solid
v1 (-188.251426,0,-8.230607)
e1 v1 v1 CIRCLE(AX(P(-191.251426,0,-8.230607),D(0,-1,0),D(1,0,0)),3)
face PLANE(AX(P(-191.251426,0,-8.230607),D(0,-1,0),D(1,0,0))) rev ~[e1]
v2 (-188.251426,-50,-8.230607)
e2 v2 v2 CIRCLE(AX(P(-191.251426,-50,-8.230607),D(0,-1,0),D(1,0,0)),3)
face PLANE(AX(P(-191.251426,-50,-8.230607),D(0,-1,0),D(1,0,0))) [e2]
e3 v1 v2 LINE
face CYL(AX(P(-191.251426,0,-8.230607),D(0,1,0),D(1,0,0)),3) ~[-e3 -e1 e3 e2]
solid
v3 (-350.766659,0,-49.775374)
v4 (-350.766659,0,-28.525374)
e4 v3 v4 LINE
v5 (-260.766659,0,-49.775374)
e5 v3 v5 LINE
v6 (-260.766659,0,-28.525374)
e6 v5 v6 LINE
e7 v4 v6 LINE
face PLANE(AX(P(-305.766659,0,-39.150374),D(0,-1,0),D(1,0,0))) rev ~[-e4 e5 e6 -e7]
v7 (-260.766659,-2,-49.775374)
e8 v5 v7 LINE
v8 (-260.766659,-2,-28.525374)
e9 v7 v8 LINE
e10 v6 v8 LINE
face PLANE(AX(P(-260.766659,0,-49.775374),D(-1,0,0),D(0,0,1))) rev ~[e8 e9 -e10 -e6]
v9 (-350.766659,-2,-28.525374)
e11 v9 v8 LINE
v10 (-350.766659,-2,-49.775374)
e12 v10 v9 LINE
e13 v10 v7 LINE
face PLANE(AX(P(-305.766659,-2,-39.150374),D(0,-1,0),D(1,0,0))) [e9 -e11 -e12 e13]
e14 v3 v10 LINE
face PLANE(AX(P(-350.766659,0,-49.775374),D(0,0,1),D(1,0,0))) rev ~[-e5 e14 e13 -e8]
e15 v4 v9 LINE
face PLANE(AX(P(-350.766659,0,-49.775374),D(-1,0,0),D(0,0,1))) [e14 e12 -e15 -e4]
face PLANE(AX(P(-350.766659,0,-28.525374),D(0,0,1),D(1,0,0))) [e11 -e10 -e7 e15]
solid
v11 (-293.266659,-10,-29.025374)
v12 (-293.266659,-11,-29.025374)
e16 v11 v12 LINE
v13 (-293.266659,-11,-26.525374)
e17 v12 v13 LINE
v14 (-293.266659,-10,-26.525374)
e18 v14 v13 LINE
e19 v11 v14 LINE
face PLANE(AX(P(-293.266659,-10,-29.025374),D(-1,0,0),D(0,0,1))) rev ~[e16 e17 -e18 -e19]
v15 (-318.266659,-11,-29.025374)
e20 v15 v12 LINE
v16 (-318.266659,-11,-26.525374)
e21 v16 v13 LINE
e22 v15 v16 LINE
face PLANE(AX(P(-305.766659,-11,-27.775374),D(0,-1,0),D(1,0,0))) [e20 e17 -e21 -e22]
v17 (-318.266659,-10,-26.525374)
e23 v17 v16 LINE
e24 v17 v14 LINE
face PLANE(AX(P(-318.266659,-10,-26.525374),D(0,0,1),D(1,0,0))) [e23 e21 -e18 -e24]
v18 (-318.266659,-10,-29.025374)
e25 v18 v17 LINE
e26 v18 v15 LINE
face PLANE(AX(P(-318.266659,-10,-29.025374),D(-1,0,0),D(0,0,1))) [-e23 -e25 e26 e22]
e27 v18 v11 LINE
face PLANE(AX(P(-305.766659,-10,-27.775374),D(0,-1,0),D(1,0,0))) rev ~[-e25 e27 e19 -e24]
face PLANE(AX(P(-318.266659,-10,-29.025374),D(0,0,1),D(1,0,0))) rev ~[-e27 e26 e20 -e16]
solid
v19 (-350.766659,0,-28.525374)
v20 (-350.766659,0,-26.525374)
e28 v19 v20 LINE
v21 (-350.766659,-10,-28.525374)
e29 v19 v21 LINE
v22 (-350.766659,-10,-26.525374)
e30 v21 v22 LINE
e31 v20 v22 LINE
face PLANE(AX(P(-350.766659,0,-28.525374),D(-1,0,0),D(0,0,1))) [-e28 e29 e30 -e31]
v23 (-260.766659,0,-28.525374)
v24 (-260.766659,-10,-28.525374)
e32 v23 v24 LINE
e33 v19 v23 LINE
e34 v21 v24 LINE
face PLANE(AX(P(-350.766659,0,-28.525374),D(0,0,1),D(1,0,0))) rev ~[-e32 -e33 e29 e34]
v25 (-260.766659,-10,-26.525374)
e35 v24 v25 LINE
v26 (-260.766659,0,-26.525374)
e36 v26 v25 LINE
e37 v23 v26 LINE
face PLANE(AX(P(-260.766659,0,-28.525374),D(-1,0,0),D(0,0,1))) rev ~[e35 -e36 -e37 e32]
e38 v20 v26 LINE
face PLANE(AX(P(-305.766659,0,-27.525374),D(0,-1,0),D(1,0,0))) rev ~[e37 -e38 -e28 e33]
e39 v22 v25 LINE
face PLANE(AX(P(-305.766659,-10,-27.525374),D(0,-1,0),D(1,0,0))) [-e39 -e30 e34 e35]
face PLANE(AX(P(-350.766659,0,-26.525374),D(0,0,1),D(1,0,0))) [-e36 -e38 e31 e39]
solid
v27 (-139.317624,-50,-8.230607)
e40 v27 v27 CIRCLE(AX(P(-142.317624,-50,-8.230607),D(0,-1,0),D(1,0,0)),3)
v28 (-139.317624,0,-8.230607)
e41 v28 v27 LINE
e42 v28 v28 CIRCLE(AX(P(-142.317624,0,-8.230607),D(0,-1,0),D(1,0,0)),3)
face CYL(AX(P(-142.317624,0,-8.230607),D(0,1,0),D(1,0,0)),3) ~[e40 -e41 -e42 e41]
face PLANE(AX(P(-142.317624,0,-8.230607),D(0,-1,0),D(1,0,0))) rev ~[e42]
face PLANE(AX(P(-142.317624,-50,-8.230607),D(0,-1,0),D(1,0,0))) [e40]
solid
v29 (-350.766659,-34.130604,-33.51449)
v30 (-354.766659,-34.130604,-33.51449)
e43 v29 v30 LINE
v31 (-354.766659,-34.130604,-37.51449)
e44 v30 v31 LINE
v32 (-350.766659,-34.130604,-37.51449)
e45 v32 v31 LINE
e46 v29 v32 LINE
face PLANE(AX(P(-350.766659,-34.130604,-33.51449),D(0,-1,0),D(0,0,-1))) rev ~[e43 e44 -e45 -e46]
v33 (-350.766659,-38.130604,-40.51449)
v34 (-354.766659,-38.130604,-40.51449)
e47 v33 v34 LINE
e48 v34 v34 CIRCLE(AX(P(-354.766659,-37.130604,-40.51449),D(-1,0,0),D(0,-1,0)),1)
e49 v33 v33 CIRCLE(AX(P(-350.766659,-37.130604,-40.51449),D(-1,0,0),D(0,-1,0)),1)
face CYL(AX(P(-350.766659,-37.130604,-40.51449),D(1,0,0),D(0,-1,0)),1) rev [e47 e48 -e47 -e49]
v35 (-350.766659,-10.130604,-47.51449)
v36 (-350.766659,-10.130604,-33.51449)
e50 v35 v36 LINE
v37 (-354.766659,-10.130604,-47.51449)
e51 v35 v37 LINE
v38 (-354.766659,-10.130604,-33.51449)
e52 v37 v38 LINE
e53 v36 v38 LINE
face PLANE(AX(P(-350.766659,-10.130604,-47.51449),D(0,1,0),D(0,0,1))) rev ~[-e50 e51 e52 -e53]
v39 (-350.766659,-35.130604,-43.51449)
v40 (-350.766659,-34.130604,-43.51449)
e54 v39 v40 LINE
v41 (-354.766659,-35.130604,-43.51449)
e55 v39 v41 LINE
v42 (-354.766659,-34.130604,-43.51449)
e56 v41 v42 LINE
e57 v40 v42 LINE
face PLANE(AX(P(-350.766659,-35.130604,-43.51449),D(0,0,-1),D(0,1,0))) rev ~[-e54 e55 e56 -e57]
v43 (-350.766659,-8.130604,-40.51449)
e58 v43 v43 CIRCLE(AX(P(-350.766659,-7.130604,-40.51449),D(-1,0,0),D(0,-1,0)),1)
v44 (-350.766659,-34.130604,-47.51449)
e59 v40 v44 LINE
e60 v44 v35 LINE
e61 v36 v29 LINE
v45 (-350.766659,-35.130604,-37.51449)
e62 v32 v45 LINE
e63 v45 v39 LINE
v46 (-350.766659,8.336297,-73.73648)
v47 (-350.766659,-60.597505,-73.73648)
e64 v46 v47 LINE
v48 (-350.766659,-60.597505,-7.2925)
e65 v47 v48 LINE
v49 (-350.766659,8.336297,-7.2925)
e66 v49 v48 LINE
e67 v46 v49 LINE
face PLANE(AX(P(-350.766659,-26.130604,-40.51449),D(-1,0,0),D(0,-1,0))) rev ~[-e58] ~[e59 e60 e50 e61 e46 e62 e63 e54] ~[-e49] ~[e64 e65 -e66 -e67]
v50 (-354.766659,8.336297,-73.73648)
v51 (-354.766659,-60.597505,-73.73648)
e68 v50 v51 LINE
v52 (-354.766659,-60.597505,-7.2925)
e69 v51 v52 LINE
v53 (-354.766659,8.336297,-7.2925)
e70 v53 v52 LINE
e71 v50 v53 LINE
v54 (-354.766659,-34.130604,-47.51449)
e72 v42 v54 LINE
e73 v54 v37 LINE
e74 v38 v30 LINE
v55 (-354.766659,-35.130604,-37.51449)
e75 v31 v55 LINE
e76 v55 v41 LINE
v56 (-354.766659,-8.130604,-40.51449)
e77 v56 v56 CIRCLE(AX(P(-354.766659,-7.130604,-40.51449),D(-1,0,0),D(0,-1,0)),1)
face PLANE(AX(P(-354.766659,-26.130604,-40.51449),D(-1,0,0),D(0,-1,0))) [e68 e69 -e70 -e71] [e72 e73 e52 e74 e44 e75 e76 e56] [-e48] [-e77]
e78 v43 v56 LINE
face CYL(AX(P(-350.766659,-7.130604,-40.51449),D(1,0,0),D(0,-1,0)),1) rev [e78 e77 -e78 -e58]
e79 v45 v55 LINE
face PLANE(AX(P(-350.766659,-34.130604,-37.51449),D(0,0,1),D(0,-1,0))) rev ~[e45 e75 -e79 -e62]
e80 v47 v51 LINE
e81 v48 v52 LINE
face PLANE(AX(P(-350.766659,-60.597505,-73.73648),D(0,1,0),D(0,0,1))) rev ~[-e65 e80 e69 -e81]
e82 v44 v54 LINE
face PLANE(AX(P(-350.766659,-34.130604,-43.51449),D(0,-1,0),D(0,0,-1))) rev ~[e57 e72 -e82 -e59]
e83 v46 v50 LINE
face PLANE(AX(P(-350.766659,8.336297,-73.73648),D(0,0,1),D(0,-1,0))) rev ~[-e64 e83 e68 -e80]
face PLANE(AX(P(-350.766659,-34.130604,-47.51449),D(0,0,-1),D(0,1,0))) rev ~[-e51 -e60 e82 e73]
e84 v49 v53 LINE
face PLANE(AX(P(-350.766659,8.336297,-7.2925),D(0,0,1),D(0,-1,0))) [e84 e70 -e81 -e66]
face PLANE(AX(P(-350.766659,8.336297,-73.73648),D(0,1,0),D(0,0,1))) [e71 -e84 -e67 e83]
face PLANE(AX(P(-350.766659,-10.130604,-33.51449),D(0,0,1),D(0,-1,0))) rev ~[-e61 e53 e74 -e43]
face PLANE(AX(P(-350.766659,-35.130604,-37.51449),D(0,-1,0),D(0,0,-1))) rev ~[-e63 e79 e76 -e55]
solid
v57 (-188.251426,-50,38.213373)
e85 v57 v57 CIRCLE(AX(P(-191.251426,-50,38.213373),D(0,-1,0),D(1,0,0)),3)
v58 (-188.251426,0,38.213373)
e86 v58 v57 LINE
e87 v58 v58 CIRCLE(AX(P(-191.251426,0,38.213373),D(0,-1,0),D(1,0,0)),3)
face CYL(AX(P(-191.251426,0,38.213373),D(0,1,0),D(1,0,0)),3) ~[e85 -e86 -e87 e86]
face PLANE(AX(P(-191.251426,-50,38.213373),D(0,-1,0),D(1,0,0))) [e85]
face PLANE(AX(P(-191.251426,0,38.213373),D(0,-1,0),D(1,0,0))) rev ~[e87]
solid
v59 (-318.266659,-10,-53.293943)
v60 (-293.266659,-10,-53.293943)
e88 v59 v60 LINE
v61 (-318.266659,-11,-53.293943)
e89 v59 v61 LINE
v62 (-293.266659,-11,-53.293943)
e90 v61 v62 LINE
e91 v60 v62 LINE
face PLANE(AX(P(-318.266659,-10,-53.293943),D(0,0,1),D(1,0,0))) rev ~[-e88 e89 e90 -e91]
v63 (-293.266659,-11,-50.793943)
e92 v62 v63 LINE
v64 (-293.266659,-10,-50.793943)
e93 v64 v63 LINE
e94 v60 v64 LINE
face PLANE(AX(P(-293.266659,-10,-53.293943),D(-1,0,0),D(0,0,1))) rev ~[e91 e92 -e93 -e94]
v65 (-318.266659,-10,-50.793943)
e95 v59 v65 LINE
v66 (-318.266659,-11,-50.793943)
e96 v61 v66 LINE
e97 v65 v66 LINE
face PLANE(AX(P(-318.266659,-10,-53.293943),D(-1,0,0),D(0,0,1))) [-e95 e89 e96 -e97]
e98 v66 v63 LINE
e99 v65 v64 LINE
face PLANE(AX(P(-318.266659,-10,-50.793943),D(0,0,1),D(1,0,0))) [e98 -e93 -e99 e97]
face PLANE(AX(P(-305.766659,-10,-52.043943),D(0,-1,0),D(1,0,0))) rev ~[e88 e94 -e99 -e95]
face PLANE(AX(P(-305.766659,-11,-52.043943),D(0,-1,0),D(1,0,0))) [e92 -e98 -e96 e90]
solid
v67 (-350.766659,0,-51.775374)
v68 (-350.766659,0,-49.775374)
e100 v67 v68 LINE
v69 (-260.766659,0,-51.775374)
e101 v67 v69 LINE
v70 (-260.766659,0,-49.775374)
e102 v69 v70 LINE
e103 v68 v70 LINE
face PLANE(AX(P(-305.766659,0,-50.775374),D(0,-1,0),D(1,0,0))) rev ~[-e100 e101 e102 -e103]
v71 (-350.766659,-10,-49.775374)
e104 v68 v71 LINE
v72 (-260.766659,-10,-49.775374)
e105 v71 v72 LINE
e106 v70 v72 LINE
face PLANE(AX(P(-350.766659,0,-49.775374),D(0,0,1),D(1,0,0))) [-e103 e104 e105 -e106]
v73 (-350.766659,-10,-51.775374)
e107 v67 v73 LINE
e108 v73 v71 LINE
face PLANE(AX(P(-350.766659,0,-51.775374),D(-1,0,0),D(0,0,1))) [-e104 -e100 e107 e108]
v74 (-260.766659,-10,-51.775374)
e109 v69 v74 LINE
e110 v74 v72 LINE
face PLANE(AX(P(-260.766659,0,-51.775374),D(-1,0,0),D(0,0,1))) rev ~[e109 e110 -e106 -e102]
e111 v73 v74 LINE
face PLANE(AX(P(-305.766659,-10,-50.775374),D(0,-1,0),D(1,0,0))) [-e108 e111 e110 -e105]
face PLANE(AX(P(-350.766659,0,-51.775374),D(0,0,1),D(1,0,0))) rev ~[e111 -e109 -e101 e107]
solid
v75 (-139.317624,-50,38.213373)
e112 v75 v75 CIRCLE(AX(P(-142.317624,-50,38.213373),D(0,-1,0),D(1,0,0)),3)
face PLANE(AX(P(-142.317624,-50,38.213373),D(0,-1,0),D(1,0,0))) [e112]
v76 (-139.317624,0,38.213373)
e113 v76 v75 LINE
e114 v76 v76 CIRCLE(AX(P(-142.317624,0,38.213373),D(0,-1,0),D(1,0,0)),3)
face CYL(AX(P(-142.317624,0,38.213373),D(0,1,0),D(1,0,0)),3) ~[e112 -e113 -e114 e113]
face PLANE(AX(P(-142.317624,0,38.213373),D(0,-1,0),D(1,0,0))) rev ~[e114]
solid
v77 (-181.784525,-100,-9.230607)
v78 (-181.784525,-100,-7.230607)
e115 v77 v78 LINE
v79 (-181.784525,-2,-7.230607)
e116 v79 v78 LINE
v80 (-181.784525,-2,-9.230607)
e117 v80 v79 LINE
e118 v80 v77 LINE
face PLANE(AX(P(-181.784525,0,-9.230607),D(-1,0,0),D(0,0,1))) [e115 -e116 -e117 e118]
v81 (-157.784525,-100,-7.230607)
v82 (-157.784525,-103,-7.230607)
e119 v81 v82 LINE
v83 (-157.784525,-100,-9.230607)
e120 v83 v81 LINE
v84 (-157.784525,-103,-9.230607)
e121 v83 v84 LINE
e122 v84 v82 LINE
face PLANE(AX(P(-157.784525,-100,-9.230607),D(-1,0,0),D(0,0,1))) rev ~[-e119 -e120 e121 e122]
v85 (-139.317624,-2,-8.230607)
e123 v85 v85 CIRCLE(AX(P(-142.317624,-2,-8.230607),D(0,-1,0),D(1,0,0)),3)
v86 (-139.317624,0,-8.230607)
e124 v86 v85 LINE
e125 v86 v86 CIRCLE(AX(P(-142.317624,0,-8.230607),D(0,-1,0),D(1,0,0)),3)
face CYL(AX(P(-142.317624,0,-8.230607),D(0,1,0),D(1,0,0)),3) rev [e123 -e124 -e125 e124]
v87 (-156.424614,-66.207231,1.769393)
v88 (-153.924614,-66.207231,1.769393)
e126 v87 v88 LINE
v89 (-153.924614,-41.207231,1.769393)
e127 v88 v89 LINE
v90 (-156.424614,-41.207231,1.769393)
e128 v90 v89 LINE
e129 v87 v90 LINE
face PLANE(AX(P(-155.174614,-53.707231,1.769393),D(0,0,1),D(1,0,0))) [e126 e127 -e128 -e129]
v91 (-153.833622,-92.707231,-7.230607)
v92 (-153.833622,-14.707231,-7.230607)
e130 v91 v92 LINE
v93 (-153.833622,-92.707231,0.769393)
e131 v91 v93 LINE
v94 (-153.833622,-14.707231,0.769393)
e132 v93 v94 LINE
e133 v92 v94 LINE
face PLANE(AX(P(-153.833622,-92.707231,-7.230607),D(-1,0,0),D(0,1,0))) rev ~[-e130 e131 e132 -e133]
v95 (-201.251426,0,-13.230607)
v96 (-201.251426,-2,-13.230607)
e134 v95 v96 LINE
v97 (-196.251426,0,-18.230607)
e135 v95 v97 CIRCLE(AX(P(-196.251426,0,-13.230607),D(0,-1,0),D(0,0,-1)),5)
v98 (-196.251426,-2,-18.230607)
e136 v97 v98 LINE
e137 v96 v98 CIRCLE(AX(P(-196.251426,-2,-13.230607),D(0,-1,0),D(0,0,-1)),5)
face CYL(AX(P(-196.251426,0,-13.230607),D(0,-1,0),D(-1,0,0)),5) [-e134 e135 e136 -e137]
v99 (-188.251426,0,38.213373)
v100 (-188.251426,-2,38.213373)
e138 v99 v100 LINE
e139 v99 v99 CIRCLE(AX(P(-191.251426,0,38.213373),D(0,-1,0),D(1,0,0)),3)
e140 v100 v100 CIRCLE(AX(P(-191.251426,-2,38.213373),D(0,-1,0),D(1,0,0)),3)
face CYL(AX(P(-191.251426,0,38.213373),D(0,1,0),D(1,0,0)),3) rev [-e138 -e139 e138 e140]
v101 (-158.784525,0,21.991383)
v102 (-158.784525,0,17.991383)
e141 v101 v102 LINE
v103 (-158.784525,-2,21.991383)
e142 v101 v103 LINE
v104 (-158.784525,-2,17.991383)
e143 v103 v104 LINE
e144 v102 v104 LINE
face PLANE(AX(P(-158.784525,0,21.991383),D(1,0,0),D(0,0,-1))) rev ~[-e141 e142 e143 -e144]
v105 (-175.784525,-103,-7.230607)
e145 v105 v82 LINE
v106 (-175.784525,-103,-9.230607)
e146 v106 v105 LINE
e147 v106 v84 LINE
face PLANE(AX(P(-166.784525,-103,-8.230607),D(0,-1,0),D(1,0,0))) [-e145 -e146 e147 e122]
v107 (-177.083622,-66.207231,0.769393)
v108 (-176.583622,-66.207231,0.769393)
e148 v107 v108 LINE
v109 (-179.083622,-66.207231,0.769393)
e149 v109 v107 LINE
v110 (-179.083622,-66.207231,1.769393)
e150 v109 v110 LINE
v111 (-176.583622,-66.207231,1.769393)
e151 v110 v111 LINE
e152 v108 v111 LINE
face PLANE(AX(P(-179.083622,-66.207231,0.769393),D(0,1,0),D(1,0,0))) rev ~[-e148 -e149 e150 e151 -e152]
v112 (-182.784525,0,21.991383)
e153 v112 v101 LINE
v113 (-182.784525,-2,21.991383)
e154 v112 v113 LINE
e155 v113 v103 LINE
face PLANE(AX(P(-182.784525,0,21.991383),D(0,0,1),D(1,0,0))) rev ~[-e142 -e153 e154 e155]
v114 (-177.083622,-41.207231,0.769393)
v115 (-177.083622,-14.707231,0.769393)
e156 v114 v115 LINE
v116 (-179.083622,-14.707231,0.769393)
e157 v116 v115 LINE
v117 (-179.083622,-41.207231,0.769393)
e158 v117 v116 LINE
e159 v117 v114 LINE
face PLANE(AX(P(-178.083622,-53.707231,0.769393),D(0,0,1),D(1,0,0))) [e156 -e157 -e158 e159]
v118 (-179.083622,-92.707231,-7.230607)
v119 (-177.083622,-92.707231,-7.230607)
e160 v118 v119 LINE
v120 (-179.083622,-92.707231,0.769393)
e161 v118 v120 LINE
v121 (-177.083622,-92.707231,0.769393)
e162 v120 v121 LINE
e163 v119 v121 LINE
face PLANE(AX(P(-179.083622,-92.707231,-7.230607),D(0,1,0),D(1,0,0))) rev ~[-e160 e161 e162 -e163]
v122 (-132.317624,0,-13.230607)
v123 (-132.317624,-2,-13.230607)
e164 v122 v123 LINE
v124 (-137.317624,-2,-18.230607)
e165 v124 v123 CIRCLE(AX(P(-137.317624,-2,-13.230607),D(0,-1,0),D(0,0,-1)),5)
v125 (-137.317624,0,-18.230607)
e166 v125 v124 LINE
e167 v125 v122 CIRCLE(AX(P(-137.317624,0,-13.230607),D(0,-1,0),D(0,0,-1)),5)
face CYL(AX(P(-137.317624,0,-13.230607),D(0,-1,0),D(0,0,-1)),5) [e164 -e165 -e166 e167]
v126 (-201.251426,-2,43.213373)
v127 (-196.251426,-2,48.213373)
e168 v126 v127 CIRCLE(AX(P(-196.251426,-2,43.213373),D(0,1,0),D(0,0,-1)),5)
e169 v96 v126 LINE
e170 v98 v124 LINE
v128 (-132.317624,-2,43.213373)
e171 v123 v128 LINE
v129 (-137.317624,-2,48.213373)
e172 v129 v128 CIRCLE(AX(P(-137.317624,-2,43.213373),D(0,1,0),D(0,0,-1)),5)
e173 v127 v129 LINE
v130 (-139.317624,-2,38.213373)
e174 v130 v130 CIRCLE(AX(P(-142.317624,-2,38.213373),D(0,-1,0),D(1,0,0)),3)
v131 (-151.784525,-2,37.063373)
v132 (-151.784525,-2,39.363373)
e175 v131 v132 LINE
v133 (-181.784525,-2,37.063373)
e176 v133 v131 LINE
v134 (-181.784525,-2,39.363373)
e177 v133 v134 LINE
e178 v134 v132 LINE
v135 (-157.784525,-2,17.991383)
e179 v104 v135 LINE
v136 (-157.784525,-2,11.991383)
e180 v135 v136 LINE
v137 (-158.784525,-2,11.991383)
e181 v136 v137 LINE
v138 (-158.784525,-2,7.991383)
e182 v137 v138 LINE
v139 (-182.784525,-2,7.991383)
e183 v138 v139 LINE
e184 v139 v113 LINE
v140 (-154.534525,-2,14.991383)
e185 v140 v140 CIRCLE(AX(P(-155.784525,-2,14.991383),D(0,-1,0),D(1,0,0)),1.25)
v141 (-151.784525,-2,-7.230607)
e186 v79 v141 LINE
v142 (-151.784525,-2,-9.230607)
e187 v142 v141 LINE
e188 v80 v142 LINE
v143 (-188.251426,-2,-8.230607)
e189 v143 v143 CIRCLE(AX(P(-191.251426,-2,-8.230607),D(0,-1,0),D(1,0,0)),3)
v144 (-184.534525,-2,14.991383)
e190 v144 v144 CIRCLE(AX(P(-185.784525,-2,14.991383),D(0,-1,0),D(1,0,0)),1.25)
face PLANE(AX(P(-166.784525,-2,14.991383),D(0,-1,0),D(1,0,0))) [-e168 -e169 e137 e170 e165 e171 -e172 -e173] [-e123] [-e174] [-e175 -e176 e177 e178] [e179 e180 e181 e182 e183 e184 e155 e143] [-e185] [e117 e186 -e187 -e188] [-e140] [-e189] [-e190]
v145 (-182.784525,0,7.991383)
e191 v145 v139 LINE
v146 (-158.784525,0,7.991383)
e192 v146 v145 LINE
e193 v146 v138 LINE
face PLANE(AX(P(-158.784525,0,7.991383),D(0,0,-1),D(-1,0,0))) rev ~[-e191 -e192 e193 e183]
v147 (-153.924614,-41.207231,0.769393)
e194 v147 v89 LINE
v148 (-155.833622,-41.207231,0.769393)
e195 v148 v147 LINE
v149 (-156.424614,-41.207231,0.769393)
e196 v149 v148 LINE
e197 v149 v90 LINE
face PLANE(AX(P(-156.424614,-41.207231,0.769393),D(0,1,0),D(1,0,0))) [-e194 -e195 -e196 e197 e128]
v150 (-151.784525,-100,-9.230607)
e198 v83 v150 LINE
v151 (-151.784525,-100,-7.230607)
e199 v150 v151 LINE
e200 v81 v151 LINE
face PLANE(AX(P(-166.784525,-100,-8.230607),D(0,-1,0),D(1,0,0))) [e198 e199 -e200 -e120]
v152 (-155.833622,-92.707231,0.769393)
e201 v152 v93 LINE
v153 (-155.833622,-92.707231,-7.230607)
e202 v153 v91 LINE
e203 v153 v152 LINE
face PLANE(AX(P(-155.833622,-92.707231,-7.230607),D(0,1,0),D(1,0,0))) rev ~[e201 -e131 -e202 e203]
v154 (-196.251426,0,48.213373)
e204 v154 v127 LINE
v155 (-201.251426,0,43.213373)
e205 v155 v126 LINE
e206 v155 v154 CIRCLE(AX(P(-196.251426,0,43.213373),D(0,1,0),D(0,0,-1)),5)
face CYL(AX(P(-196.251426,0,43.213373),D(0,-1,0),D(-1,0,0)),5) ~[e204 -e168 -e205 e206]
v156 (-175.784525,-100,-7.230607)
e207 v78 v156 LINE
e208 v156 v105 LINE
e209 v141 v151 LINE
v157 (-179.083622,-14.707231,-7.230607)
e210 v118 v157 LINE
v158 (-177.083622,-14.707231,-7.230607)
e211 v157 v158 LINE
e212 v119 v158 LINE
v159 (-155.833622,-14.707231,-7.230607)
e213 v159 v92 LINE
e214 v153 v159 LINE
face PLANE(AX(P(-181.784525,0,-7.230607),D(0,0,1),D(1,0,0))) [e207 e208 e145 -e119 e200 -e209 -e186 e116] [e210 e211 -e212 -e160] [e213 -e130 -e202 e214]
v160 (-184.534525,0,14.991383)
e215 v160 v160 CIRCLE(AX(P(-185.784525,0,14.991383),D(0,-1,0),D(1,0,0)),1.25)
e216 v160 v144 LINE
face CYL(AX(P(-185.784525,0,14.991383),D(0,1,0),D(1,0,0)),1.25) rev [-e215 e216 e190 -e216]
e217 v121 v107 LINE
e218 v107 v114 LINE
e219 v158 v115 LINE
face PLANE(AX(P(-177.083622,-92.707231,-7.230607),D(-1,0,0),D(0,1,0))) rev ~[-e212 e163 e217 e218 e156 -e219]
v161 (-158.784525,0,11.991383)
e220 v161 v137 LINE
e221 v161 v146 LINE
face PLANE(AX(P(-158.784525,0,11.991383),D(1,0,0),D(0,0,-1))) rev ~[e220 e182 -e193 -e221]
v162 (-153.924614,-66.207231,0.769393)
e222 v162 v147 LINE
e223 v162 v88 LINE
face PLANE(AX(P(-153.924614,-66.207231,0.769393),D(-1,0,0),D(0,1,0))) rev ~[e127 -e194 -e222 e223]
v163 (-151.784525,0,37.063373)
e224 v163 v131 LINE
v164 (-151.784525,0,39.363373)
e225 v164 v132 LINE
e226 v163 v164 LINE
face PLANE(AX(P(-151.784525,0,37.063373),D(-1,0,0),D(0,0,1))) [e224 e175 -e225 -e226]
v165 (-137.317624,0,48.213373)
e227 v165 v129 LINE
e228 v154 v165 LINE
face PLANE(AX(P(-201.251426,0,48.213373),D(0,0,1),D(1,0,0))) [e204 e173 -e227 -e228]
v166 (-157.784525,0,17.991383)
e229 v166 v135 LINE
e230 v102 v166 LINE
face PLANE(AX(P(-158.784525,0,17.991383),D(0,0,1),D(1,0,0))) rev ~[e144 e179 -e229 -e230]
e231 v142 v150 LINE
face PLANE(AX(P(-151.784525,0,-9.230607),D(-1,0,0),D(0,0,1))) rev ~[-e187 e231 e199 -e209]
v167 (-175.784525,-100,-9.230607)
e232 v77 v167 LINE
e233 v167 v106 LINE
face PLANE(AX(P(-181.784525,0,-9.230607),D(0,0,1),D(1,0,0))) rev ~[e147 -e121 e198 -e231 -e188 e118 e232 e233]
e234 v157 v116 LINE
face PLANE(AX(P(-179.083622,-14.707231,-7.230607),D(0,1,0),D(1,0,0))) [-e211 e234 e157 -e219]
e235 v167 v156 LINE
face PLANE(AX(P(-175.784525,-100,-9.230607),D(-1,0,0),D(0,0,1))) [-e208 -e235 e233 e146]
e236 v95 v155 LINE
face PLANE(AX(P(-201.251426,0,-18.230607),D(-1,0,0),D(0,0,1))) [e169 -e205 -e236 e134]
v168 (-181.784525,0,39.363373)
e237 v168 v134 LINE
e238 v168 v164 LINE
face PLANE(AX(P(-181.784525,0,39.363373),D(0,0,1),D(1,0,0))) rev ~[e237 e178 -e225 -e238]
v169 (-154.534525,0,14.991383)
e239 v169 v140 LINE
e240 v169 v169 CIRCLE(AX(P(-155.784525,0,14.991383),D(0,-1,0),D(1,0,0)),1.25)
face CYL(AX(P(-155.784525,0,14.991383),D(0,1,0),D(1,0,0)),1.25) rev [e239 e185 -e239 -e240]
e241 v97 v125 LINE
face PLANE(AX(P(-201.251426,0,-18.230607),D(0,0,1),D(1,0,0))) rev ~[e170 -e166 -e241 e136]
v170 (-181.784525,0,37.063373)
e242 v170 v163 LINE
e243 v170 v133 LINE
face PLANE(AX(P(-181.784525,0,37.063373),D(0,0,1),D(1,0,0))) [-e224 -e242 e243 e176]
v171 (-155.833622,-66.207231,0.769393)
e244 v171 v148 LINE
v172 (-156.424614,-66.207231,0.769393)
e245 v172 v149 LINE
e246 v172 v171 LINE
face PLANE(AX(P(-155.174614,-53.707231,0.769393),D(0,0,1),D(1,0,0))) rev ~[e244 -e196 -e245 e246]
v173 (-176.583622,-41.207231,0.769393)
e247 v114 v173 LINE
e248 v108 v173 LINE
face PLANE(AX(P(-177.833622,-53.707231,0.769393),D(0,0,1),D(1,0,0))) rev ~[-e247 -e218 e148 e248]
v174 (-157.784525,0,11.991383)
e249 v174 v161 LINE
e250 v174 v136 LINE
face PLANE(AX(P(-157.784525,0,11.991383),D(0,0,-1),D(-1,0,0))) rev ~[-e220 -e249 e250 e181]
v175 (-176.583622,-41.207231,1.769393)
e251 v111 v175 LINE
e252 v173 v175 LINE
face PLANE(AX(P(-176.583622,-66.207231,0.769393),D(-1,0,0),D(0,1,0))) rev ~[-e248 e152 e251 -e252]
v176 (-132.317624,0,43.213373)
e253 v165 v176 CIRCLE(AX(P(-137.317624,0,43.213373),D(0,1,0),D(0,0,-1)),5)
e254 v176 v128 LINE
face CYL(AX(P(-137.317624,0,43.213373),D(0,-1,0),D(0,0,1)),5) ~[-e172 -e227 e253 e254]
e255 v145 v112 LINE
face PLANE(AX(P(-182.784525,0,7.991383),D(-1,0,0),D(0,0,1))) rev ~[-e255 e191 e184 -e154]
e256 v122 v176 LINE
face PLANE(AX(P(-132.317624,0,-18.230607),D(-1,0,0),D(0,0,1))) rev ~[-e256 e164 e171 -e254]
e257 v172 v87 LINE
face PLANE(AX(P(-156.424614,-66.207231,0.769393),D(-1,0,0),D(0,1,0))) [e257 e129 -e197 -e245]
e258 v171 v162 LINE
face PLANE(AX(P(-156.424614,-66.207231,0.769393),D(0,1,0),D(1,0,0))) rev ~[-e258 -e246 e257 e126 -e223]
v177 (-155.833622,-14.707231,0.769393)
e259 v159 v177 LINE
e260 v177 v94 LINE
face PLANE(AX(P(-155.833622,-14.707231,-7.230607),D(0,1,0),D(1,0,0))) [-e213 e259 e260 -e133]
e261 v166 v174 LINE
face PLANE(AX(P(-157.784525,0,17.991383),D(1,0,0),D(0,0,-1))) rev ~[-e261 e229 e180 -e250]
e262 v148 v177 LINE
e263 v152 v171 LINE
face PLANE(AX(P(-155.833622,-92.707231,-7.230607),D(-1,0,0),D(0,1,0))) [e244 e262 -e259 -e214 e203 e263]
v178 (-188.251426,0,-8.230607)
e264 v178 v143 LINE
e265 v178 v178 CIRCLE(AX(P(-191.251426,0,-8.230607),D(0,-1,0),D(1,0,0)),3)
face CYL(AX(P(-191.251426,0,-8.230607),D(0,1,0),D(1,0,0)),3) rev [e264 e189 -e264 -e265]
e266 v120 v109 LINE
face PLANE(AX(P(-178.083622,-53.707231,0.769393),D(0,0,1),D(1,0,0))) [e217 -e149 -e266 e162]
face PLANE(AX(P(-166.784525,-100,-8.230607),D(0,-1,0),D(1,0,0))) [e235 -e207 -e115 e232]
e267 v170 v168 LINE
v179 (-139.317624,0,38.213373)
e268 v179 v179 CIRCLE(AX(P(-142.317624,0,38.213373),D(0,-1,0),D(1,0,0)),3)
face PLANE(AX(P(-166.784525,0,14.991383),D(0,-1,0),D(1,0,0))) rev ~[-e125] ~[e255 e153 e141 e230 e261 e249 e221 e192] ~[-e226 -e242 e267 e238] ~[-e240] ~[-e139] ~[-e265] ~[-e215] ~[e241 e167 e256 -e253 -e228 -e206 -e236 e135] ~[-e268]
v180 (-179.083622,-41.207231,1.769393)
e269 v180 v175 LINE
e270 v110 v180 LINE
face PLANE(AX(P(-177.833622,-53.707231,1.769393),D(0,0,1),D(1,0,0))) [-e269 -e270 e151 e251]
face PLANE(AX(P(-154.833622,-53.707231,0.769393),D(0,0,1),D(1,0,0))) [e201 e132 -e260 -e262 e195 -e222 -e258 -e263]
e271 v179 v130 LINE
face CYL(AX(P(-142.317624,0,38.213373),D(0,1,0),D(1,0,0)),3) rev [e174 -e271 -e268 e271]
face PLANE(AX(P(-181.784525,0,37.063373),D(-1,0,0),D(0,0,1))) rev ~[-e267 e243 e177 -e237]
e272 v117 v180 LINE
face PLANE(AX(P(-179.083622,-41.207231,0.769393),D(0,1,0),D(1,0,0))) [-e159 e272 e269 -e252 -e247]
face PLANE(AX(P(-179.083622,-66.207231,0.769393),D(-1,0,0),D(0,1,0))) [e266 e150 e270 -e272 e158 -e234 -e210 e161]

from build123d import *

# Parameters (mm, degrees)
F0_R      = 3
F1_DEPTH  = 50
F0_W      = 68.9338020737
F0_H      = 66.44398
F0_W_2    = 30
F0_H_2    = 2
F0_R_2    = 1.25
F0_H_3    = 2.3
F2_DEPTH  = 2
F0_W_3    = 90
F3_DEPTH  = 10
F0_H_4    = 21.25
F4_DEPTH  = 2
F5_W      = 25
F5_H      = 2.5
F6_DEPTH  = 1
F7_R      = 5
F8_W      = 68.9338020737
F8_H      = 66.44398
F8_R      = 1
F8_W_2    = 2
F8_H_2    = 21.25
F9_DEPTH  = 4
F10_DEPTH = 100
F11_W     = 2
F11_H     = 78
F12_DEPTH = 8
F13_W     = 2.5
F13_H     = 25
F14_DEPTH = 1
F15_W     = 18
F15_H     = 2
F16_DEPTH = 3


with BuildPart() as f1:
    # F0 (on Front) → F1 (new body)
    with BuildSketch(Plane.XZ):
        with Locations((-191.2514259544, 38.213372719)):
            Circle(F0_R)
    extrude(amount=F1_DEPTH)


with BuildPart() as f1b:
    # F0 (on Front) → F1, piece 2 (new body)
    with BuildSketch(Plane.XZ):
        with Locations((-142.3176238808, 38.213372719)):
            Circle(F0_R)
    extrude(amount=F1_DEPTH)


with BuildPart() as f1c:
    # F0 (on Front) → F1, piece 3 (new body)
    with BuildSketch(Plane.XZ):
        with Locations((-142.3176238808, -8.230607281)):
            Circle(F0_R)
    extrude(amount=F1_DEPTH)


with BuildPart() as f1d:
    # F0 (on Front) → F1, piece 4 (new body)
    with BuildSketch(Plane.XZ):
        with Locations((-191.2514259544, -8.230607281)):
            Circle(F0_R)
    extrude(amount=F1_DEPTH)


with BuildPart() as f2:
    # F0 (on Front) → F2 (new body)
    with BuildSketch(Plane.XZ):
        with Locations((-166.7845249176, 14.991382719)):
            Rectangle(F0_W, F0_H)
        with Locations((-191.2514259544, -8.230607281)):
            Circle(F0_R, mode=Mode.SUBTRACT)
        with Locations((-166.7845249176, -8.230607281)):
            Rectangle(F0_W_2, F0_H_2, mode=Mode.SUBTRACT)
        with Locations((-142.3176238808, -8.230607281)):
            Circle(F0_R, mode=Mode.SUBTRACT)
        with Locations((-185.7845249176, 14.991382719)):
            Circle(F0_R_2, mode=Mode.SUBTRACT)
        Polygon((-182.7845249176, 21.991382719), (-158.7845249176, 21.991382719), (-158.7845249176, 17.991382719), (-157.7845249176, 17.991382719), (-157.7845249176, 11.991382719), (-158.7845249176, 11.991382719), (-158.7845249176, 7.991382719), (-182.7845249176, 7.991382719), align=None, mode=Mode.SUBTRACT)
        with Locations((-155.7845249176, 14.991382719)):
            Circle(F0_R_2, mode=Mode.SUBTRACT)
        with Locations((-191.2514259544, 38.213372719)):
            Circle(F0_R, mode=Mode.SUBTRACT)
        with Locations((-166.7845249176, 38.213372719)):
            Rectangle(F0_W_2, F0_H_3, mode=Mode.SUBTRACT)
        with Locations((-142.3176238808, 38.213372719)):
            Circle(F0_R, mode=Mode.SUBTRACT)
    extrude(amount=F2_DEPTH)

    # F7
    f7_edges = [f2.edges().sort_by_distance(p)[0] for p in [
        (-201.251426, -1, 48.213373),
        (-132.317624, -1, 48.213373),
        (-132.317624, -1, -18.230607),
        (-201.251426, -1, -18.230607),
    ]]
    fillet(f7_edges, radius=F7_R)

    # F0 (on Front) → F10 (join)
    with BuildSketch(Plane.XZ):
        with Locations((-166.7845249176, -8.230607281)):
            Rectangle(F0_W_2, F0_H_2)
    extrude(amount=F10_DEPTH)

    # F11 (on face) → F12 (join)
    with BuildSketch(Plane.XY.offset(-7.230607281)):
        with Locations((-178.0836216211, -53.7072308362)):
            Rectangle(F11_W, F11_H)
        with Locations((-154.8336216211, -53.7072308362)):
            Rectangle(F11_W, F11_H)
    extrude(amount=F12_DEPTH)

    # F13 (on face) → F14 (join)
    with BuildSketch(Plane.XY.offset(0.769392719)):
        with Locations((-177.8336216211, -53.7072308362)):
            Rectangle(F13_W, F13_H)
        with Locations((-155.1746141911, -53.7072308362)):
            Rectangle(F13_W, F13_H)
    extrude(amount=F14_DEPTH)

    # F15 (on face) → F16 (join)
    with BuildSketch(Plane.XZ.offset(100)):
        with Locations((-166.7845249176, -8.230607281)):
            Rectangle(F15_W, F15_H)
    extrude(amount=F16_DEPTH)


with BuildPart() as f3:
    # F0 (on Front) → F3 (new body)
    with BuildSketch(Plane.XZ):
        with Locations((-305.766658783, -27.5253735185)):
            Rectangle(F0_W_3, F0_H_2)
    extrude(amount=F3_DEPTH)


with BuildPart() as f3b:
    # F0 (on Front) → F3, piece 2 (new body)
    with BuildSketch(Plane.XZ):
        with Locations((-305.766658783, -50.7753735185)):
            Rectangle(F0_W_3, F0_H_2)
    extrude(amount=F3_DEPTH)


with BuildPart() as f4:
    # F0 (on Front) → F4 (new body)
    with BuildSketch(Plane.XZ):
        with Locations((-305.766658783, -39.1503735185)):
            Rectangle(F0_W_3, F0_H_4)
    extrude(amount=F4_DEPTH)


with BuildPart() as f6:
    # F5 (on face) → F6 (new body)
    with BuildSketch(Plane.XZ.offset(10)):
        with Locations((-305.766658783, -27.7753735185)):
            Rectangle(F5_W, F5_H)
    extrude(amount=F6_DEPTH)


with BuildPart() as f6b:
    # F5 (on face) → F6, piece 2 (new body)
    with BuildSketch(Plane.XZ.offset(10)):
        with Locations((-305.766658783, -52.0439434052)):
            Rectangle(F5_W, F5_H)
    extrude(amount=F6_DEPTH)


with BuildPart() as f9:
    # F8 (on face) → F9 (new body)
    with BuildSketch(Plane(origin=(-350.766658783, 0, 0), x_dir=(0, -1, 0), z_dir=(-1, 0, 0))):
        with Locations((26.1306043836, -40.5144899269)):
            Rectangle(F8_W, F8_H)
        with Locations((7.1306043836, -40.5144899269)):
            Circle(F8_R, mode=Mode.SUBTRACT)
        with Locations((37.1306043836, -40.5144899269)):
            Circle(F8_R, mode=Mode.SUBTRACT)
        with Locations((1, -39.1503735185)):
            Rectangle(F8_W_2, F8_H_2, mode=Mode.SUBTRACT)
        Polygon((10.1306043836, -33.5144899269), (34.1306043836, -33.5144899269), (34.1306043836, -37.5144899269), (35.1306043836, -37.5144899269), (35.1306043836, -43.5144899269), (34.1306043836, -43.5144899269), (34.1306043836, -47.5144899269), (10.1306043836, -47.5144899269), align=None, mode=Mode.SUBTRACT)
        with Locations((1, -39.1503735185)):
            Rectangle(F8_W_2, F8_H_2)
    extrude(amount=F9_DEPTH)


solid = Compound([f1.part, f1b.part, f1c.part, f1d.part, f2.part, f3.part, f3b.part, f4.part, f6.part, f6b.part, f9.part])
